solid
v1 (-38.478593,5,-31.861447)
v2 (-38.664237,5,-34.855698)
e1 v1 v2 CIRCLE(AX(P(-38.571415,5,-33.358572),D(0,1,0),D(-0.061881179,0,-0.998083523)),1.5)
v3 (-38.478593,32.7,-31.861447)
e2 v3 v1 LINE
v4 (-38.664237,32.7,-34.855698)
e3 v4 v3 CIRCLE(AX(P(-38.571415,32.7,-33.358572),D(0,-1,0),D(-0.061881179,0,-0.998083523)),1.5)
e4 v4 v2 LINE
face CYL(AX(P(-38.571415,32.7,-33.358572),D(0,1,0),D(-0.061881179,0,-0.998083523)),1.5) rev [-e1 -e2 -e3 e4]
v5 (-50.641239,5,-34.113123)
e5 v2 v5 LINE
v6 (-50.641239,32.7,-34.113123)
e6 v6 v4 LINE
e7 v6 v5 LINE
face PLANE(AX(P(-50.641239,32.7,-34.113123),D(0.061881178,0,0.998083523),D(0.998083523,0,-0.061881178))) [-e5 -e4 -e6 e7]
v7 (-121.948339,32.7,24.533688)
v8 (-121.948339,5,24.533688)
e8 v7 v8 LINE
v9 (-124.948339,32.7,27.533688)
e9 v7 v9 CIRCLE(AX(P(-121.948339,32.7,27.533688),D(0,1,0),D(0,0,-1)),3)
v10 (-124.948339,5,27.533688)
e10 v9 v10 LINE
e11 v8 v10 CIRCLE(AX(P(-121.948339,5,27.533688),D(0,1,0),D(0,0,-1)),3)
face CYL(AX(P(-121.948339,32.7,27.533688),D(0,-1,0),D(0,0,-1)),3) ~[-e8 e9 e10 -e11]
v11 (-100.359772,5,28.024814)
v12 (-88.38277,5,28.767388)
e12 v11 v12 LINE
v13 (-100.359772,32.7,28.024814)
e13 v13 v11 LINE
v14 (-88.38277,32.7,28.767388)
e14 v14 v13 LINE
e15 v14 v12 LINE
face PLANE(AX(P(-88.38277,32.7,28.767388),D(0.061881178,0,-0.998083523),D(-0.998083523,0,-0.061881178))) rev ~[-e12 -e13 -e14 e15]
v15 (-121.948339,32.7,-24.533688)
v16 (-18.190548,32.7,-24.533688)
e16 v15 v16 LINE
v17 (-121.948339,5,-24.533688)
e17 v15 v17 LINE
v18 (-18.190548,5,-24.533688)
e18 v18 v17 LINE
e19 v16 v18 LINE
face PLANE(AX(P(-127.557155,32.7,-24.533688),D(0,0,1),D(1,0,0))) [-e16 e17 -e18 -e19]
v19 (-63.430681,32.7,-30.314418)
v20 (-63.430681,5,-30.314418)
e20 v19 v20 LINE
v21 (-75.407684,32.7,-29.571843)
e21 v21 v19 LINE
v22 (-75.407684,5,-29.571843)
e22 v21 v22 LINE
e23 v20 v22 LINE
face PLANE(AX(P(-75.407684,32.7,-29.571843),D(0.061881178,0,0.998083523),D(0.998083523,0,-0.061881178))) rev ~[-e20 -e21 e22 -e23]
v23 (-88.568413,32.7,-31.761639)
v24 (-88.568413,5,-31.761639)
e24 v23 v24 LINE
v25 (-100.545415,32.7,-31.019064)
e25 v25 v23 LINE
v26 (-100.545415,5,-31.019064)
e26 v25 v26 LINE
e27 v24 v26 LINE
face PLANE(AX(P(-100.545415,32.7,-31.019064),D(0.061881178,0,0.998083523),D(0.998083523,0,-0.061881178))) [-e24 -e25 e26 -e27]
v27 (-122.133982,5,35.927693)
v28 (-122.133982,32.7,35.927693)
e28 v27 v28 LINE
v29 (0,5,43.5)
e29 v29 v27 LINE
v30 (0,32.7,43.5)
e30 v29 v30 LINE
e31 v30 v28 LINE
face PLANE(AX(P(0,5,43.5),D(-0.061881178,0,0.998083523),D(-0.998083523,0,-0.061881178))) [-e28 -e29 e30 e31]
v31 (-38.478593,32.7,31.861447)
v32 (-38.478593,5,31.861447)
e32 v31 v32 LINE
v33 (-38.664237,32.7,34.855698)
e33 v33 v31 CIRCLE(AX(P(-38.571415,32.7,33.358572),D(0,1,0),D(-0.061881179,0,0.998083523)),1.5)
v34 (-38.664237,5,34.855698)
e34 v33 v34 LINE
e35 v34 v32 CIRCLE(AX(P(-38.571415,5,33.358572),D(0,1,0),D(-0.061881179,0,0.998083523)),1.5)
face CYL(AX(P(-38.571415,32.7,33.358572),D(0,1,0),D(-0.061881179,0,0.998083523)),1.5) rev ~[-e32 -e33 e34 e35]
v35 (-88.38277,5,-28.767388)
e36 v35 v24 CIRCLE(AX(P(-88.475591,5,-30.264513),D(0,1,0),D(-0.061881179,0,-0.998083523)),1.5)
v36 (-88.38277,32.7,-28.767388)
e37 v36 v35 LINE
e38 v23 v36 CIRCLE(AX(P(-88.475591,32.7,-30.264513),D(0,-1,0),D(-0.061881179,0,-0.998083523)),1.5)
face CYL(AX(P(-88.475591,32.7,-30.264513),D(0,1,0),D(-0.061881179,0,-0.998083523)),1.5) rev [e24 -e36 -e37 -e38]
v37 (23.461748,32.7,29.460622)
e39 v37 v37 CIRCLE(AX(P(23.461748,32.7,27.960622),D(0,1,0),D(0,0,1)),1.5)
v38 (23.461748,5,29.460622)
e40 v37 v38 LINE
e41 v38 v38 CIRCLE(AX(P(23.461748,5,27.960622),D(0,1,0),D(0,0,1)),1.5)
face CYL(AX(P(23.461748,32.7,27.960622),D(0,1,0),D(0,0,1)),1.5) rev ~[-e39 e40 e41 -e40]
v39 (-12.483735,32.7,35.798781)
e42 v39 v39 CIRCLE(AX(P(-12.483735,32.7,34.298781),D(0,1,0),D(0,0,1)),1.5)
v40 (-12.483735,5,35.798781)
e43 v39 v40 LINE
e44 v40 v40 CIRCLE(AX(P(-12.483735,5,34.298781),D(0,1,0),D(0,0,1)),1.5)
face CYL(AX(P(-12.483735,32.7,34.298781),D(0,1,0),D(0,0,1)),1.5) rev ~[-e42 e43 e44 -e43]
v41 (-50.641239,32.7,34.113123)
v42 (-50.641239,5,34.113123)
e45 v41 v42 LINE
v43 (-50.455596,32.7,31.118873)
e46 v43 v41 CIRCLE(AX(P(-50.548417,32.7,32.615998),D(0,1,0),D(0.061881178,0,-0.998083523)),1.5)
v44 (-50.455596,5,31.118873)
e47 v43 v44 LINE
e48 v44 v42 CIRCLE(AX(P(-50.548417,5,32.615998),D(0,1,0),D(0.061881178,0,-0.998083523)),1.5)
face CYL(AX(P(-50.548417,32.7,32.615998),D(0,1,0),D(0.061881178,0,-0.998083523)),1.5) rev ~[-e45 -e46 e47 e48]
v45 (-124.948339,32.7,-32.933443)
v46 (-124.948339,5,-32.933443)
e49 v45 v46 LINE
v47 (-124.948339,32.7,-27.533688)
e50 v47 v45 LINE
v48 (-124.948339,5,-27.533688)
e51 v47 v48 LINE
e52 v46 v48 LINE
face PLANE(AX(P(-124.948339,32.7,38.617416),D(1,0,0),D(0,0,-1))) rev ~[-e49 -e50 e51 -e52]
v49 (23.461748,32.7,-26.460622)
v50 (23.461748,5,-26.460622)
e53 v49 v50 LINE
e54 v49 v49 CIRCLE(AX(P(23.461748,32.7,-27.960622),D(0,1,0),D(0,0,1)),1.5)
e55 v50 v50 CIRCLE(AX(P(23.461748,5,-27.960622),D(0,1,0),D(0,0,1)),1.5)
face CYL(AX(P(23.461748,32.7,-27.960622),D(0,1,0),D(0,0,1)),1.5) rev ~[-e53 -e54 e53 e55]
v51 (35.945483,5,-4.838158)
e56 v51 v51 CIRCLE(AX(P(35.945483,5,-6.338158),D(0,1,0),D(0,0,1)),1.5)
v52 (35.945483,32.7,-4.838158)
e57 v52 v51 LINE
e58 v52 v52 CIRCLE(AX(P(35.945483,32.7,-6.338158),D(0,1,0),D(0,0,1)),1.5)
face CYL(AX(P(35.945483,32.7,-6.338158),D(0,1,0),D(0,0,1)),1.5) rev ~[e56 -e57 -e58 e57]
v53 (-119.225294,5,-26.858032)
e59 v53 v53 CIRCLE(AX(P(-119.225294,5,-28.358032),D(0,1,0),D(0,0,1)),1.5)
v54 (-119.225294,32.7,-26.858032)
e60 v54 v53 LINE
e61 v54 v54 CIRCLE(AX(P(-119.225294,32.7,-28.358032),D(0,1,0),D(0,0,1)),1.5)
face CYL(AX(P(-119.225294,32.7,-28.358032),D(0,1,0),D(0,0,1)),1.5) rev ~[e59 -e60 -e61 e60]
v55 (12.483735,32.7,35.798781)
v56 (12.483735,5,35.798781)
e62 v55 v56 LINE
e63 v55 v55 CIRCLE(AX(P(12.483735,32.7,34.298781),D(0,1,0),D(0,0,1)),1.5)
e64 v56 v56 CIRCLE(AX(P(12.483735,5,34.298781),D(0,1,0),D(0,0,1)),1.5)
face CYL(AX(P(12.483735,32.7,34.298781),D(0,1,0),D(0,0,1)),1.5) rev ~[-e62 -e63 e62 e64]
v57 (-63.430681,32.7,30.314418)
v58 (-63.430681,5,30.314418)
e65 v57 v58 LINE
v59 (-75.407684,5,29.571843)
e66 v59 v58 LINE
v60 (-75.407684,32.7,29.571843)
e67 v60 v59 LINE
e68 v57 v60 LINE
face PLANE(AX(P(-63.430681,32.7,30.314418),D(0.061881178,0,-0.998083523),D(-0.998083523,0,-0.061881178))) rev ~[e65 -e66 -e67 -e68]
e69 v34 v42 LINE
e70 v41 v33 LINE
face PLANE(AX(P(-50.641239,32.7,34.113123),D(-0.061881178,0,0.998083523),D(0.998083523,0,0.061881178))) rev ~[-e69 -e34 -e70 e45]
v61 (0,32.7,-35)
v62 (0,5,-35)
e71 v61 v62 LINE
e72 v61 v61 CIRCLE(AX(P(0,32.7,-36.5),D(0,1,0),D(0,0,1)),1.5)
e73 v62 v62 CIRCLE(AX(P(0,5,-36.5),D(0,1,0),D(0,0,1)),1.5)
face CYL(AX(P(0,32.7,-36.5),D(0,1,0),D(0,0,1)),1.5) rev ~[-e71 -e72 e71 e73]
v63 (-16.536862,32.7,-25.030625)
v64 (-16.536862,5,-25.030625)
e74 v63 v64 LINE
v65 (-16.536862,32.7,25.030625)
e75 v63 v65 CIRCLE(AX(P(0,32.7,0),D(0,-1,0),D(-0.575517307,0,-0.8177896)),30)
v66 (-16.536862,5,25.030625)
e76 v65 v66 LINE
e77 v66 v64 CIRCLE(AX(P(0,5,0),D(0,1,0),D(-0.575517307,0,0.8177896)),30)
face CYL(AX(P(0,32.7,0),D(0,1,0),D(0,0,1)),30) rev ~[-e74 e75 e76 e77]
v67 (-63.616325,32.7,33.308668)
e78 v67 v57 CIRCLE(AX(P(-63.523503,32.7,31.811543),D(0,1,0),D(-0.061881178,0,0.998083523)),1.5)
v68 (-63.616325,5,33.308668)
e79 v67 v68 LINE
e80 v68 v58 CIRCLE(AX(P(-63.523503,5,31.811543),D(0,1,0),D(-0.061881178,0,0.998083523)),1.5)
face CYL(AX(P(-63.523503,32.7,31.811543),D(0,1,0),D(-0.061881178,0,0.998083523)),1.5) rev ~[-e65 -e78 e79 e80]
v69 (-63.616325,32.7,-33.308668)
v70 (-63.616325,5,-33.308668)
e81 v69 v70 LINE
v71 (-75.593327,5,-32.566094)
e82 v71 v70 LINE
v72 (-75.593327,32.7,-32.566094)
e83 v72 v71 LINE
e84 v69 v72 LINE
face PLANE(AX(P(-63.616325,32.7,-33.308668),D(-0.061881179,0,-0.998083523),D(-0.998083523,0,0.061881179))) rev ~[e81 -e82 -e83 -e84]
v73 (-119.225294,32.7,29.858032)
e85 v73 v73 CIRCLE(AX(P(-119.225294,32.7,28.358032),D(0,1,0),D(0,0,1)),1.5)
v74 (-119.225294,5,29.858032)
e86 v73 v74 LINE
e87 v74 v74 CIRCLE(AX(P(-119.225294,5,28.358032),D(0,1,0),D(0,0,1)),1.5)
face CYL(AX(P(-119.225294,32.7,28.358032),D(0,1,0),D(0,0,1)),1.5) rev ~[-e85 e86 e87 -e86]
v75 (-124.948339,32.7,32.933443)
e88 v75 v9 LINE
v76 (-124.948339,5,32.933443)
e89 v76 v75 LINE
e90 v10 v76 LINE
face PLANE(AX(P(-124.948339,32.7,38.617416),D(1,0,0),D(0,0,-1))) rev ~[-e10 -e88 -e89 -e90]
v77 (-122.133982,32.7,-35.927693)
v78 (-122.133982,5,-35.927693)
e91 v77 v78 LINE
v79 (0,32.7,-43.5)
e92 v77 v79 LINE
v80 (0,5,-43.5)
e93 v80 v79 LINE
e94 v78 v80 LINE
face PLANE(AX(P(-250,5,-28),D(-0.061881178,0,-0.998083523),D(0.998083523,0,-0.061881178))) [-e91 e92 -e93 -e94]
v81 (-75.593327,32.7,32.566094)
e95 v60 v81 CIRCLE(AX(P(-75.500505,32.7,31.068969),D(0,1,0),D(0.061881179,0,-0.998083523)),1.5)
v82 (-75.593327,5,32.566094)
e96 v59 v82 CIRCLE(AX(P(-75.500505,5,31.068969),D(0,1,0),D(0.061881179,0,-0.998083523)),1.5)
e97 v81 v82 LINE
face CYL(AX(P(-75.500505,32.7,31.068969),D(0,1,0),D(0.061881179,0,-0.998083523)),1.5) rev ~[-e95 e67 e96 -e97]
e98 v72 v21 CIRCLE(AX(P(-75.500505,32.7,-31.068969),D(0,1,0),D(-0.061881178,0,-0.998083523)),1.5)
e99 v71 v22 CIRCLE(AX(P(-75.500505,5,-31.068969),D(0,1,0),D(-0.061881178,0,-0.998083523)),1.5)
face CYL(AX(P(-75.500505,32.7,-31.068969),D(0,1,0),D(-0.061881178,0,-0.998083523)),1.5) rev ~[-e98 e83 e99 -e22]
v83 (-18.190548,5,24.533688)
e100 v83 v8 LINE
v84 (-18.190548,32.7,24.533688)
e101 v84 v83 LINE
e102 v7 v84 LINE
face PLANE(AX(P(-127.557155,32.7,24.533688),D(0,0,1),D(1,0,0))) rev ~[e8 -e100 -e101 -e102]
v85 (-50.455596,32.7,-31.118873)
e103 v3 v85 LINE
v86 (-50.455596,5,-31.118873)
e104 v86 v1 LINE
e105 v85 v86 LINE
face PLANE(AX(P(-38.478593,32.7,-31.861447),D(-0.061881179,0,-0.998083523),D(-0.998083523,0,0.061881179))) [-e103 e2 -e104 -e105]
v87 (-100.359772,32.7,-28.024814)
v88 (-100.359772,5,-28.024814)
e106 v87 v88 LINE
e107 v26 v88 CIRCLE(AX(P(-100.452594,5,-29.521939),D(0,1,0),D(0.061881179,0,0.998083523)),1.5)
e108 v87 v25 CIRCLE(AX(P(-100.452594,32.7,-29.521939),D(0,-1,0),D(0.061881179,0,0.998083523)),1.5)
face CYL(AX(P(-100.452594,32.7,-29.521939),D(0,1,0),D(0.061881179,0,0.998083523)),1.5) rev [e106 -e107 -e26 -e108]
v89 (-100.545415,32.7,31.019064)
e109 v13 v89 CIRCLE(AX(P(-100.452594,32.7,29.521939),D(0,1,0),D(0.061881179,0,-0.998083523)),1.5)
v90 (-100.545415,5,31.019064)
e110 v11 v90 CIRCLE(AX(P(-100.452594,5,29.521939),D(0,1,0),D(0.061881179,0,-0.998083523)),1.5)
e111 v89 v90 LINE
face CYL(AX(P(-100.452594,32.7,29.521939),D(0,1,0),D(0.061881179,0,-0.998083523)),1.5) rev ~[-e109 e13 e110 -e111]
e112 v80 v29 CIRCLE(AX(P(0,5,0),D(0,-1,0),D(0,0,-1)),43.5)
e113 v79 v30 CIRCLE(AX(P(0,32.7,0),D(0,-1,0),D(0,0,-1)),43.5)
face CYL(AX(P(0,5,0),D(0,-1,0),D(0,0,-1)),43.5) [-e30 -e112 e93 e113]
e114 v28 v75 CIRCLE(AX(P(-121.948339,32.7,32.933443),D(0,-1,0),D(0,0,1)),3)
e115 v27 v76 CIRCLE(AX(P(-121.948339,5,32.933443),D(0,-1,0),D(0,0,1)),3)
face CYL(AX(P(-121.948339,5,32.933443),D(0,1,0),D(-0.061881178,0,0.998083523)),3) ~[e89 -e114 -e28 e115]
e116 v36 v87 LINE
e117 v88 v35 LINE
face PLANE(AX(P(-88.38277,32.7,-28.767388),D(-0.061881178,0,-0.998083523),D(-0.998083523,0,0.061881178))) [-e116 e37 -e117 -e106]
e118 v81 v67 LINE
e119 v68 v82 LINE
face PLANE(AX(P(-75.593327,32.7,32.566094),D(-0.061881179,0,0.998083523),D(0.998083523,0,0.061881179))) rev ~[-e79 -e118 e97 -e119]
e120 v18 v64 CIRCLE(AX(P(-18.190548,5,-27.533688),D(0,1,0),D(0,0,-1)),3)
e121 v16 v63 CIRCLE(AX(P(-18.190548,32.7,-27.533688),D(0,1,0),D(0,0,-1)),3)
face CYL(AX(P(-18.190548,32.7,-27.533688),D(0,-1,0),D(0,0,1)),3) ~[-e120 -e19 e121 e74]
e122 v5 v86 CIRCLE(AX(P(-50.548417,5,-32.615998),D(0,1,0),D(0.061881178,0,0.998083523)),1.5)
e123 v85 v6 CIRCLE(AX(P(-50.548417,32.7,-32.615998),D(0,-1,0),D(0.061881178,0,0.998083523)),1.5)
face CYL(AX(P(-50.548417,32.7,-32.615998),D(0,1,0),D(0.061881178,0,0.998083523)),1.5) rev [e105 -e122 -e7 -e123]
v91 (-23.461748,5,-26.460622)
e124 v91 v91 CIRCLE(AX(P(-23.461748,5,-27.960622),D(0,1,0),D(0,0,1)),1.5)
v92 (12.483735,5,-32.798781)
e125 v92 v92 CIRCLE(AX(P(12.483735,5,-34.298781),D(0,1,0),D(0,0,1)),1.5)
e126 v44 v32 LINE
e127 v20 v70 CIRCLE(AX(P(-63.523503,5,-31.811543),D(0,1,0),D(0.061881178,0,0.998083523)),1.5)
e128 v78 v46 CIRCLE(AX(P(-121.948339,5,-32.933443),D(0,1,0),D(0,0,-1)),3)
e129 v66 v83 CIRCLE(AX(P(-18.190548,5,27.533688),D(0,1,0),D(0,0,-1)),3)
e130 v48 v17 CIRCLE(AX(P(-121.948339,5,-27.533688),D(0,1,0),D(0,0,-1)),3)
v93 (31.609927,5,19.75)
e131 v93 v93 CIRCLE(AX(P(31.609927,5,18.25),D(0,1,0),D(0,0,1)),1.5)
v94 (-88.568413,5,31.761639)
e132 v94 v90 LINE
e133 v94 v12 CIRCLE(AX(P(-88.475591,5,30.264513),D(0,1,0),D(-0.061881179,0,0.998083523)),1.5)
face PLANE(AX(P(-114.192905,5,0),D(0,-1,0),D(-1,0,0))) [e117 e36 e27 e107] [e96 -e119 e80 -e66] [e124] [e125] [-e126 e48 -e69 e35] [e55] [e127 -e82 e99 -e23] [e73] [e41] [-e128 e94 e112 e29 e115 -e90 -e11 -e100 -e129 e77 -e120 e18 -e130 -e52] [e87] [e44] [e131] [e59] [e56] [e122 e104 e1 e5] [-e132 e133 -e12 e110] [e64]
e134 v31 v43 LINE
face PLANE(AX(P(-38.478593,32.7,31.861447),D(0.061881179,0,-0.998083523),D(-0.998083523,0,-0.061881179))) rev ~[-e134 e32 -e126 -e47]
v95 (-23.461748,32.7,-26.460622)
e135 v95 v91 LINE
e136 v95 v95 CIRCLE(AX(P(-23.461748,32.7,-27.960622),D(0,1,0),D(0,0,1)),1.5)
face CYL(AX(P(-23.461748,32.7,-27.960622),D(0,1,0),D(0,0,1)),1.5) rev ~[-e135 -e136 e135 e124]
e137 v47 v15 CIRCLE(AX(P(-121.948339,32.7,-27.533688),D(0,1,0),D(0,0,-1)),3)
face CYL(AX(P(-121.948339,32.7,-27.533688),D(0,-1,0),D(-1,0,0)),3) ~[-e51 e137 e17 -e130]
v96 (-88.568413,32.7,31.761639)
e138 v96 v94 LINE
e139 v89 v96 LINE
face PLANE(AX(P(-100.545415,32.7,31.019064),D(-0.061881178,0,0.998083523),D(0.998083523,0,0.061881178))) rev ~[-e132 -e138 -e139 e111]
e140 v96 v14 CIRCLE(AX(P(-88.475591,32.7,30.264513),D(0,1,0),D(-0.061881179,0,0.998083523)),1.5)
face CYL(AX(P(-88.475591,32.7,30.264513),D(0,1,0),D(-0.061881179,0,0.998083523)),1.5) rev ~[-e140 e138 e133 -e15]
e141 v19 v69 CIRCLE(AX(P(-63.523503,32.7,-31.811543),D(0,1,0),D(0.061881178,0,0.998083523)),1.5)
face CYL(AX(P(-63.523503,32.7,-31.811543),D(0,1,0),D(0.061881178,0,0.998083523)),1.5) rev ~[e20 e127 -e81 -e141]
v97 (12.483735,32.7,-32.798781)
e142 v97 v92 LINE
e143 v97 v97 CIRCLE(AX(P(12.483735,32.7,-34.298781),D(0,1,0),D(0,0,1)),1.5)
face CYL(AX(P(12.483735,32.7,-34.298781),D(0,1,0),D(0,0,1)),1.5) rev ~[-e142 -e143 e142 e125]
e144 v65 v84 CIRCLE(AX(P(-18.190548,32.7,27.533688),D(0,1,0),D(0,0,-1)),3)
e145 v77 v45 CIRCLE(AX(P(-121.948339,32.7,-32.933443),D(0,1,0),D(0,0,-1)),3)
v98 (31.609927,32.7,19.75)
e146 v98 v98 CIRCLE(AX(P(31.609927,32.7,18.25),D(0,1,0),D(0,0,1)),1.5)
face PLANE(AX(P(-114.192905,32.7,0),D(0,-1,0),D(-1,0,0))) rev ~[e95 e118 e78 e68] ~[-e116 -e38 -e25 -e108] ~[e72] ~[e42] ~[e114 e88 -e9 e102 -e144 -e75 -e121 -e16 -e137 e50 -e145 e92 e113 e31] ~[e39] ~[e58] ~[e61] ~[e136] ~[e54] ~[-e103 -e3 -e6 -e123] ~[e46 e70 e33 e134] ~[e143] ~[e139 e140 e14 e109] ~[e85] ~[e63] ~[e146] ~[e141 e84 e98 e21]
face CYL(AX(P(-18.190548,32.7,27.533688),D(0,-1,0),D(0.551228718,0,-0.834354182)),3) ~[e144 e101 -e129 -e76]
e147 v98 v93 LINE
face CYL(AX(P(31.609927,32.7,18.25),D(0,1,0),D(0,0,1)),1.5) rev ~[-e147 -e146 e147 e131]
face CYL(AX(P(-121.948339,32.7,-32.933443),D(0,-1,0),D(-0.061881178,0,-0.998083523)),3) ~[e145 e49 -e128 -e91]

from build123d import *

# Parameters (mm, degrees)
EXTRUDE_1_DEPTH     = 27.7
SKETCH_3_R          = 1.25
SKETCH_3_R_2        = 30
SKETCH_3_R_3        = 1.5
CUT_EXTRUDE_1_DEPTH = 30
CUT_EXTRUDE_2_DEPTH = 3
SKETCH_5_R          = 1.25
SKETCH_5_R_2        = 1.5
CUT_EXTRUDE_3_DEPTH = 30
SKETCH_6_W          = 156.727051789
SKETCH_6_H          = 77.251269398
CUT_EXTRUDE_4_DEPTH = 36
SKETCH_7_W          = 110.29163623
SKETCH_7_H          = 49.067375992
CUT_EXTRUDE_5_DEPTH = 36
FILLET_1_R          = 3
CUT_EXTRUDE_6_DEPTH = 40
FILLET_2_R          = 3


with BuildPart() as part:
    # 草图2 → 凸台-拉伸1 (new body)
    with BuildSketch(Plane(origin=(0, 5, 0), x_dir=(1, 0, 0), z_dir=(0, 1, 0))):
        with BuildLine():
            Line((-250, 28), (0, 43.5))
            ThreePointArc((0, 43.5), (43.5, 0), (0, -43.5))
            Line((0, -43.5), (-250, -28))
            ThreePointArc((-250, -28), (-278, 0), (-250, 28))
        make_face()
    extrude(amount=EXTRUDE_1_DEPTH)

    # 草图3 → 切除-拉伸1 (cut)
    with BuildSketch(Plane(origin=(0, 32.7, 0), x_dir=(1, 0, 0), z_dir=(0, 1, 0))):
        with Locations(Location((-250, 4, 0), (0, 0, 270))):
            Circle(SKETCH_3_R)
        with Locations(Location((-246, 0, 0), (0, 0, 270))):
            Circle(SKETCH_3_R)
        with Locations(Location((-250, -4, 0), (0, 0, 270))):
            Circle(SKETCH_3_R)
        with Locations(Location((-254, 0, 0), (0, 0, 270))):
            Circle(SKETCH_3_R)
        with Locations(Location((0, 0, 0), (0, 0, 270))):
            Circle(SKETCH_3_R_2)
        with Locations(Location((0, 36.5, 0), (0, 0, 270))):
            Circle(SKETCH_3_R_3)
        with Locations(Location((12.483735231, 34.298780659, 0), (0, 0, 270))):
            Circle(SKETCH_3_R_3)
        with Locations(Location((23.461747754, 27.960622174, 0), (0, 0, 270))):
            Circle(SKETCH_3_R_3)
        with Locations(Location((-23.461747754, 27.960622174, 0), (0, 0, 270))):
            Circle(SKETCH_3_R_3)
        with Locations(Location((-35.945482985, 6.338158485, 0), (0, 0, 270))):
            Circle(SKETCH_3_R_3)
        with Locations(Location((-35.945482985, -6.338158485, 0), (0, 0, 270))):
            Circle(SKETCH_3_R_3)
        with Locations(Location((-31.609927238, -18.25, 0), (0, 0, 270))):
            Circle(SKETCH_3_R_3)
        with Locations(Location((-12.483735231, -34.298780659, 0), (0, 0, 270))):
            Circle(SKETCH_3_R_3)
        with Locations(Location((12.483735231, -34.298780659, 0), (0, 0, 270))):
            Circle(SKETCH_3_R_3)
        with Locations(Location((23.461747754, -27.960622174, 0), (0, 0, 270))):
            Circle(SKETCH_3_R_3)
        with Locations(Location((31.609927238, -18.25, 0), (0, 0, 270))):
            Circle(SKETCH_3_R_3)
        with Locations(Location((35.945482985, 6.338158485, 0), (0, 0, 270))):
            Circle(SKETCH_3_R_3)
        with BuildLine():
            ThreePointArc((-265.553651429, 15.553651429), (-265.553651429, 11.316406256), (-261.316406256, 11.316406256))
            ThreePointArc((-261.316406256, 11.316406256), (-250, 16.003815204), (-238.683593744, 11.316406256))
            ThreePointArc((-238.683593744, 11.316406256), (-234.446348571, 11.316406256), (-234.446348571, 15.553651429))
            ThreePointArc((-234.446348571, 15.553651429), (-250, 21.996184796), (-265.553651429, 15.553651429))
        make_face()
        with BuildLine():
            ThreePointArc((-261.316406256, -11.316406256), (-250, -16.003815204), (-238.683593744, -11.316406256))
            ThreePointArc((-238.683593744, -11.316406256), (-234.446348571, -11.316406256), (-234.446348571, -15.553651429))
            ThreePointArc((-234.446348571, -15.553651429), (-250, -21.996184796), (-265.553651429, -15.553651429))
            ThreePointArc((-265.553651429, -15.553651429), (-265.553651429, -11.316406256), (-261.316406256, -11.316406256))
        make_face()
    extrude(amount=-CUT_EXTRUDE_1_DEPTH, mode=Mode.SUBTRACT)

    # 草图4 → 切除-拉伸2 (cut)
    with BuildSketch(Plane(origin=(0, 32.7, 0), x_dir=(1, 0, 0), z_dir=(0, 1, 0))):
        with BuildLine():
            Line((-216.23889617, 1.5), (-205.267472927, 20.503062488))
            ThreePointArc((-205.267472927, 20.503062488), (-199.762485666, 21.978119379), (-198.287428775, 16.473132117))
            Line((-198.287428775, 16.473132117), (-206.932170633, 1.5))
            ThreePointArc((-206.932170633, 1.5), (-207.334094422, 0), (-206.932170633, -1.5))
            Line((-206.932170633, -1.5), (-198.287428775, -16.473132117))
            ThreePointArc((-198.287428775, -16.473132117), (-199.762485666, -21.978119379), (-205.267472927, -20.503062488))
            Line((-205.267472927, -20.503062488), (-216.23889617, -1.5))
            ThreePointArc((-216.23889617, -1.5), (-216.640819958, 0), (-216.23889617, 1.5))
        make_face()
        with BuildLine():
            Line((-54.444025551, 1.5), (-65.7023558, 21))
            ThreePointArc((-65.7023558, 21), (-66.800432012, 22.098076211), (-68.300432012, 22.5))
            Line((-68.300432012, 22.5), (-90.81709251, 22.5))
            ThreePointArc((-90.81709251, 22.5), (-92.31709251, 22.098076211), (-93.415168722, 21))
            Line((-93.415168722, 21), (-104.673498971, 1.5))
            ThreePointArc((-104.673498971, 1.5), (-105.075422759, 0), (-104.673498971, -1.5))
            Line((-104.673498971, -1.5), (-93.415168722, -21))
            ThreePointArc((-93.415168722, -21), (-92.31709251, -22.098076211), (-90.81709251, -22.5))
            Line((-90.81709251, -22.5), (-68.300432012, -22.5))
            ThreePointArc((-68.300432012, -22.5), (-66.800432012, -22.098076211), (-65.7023558, -21))
            Line((-65.7023558, -21), (-54.444025551, -1.5))
            ThreePointArc((-54.444025551, -1.5), (-54.042101763, 0), (-54.444025551, 1.5))
        make_face()
        with BuildLine():
            Line((-188.932170633, -1.5), (-180.287428775, -16.473132117))
            ThreePointArc((-180.287428775, -16.473132117), (-181.762485666, -21.978119379), (-187.267472927, -20.503062488))
            Line((-187.267472927, -20.503062488), (-198.23889617, -1.5))
            ThreePointArc((-198.23889617, -1.5), (-198.640819958, 0), (-198.23889617, 1.5))
            Line((-198.23889617, 1.5), (-187.267472927, 20.503062488))
            ThreePointArc((-187.267472927, 20.503062488), (-181.762485666, 21.978119379), (-180.287428775, 16.473132117))
            Line((-180.287428775, 16.473132117), (-188.932170633, 1.5))
            ThreePointArc((-188.932170633, 1.5), (-189.334094422, 0), (-188.932170633, -1.5))
        make_face()
        with BuildLine():
            Line((-170.932170633, -1.5), (-162.287428775, -16.473132117))
            ThreePointArc((-162.287428775, -16.473132117), (-163.762485666, -21.978119379), (-169.267472927, -20.503062488))
            Line((-169.267472927, -20.503062488), (-180.23889617, -1.5))
            ThreePointArc((-180.23889617, -1.5), (-180.640819958, 0), (-180.23889617, 1.5))
            Line((-180.23889617, 1.5), (-169.267472927, 20.503062488))
            ThreePointArc((-169.267472927, 20.503062488), (-163.762485666, 21.978119379), (-162.287428775, 16.473132117))
            Line((-162.287428775, 16.473132117), (-170.932170633, 1.5))
            ThreePointArc((-170.932170633, 1.5), (-171.334094422, 0), (-170.932170633, -1.5))
        make_face()
        with BuildLine():
            Line((-152.932170633, -1.5), (-144.287428775, -16.473132117))
            ThreePointArc((-144.287428775, -16.473132117), (-145.762485666, -21.978119379), (-151.267472927, -20.503062488))
            Line((-151.267472927, -20.503062488), (-162.23889617, -1.5))
            ThreePointArc((-162.23889617, -1.5), (-162.640819958, 0), (-162.23889617, 1.5))
            Line((-162.23889617, 1.5), (-151.267472927, 20.503062488))
            ThreePointArc((-151.267472927, 20.503062488), (-145.762485666, 21.978119379), (-144.287428775, 16.473132117))
            Line((-144.287428775, 16.473132117), (-152.932170633, 1.5))
            ThreePointArc((-152.932170633, 1.5), (-153.334094422, 0), (-152.932170633, -1.5))
        make_face()
        with BuildLine():
            Line((-134.932170633, -1.5), (-126.287428775, -16.473132117))
            ThreePointArc((-126.287428775, -16.473132117), (-127.762485666, -21.978119379), (-133.267472927, -20.503062488))
            Line((-133.267472927, -20.503062488), (-144.23889617, -1.5))
            ThreePointArc((-144.23889617, -1.5), (-144.640819958, 0), (-144.23889617, 1.5))
            Line((-144.23889617, 1.5), (-133.267472927, 20.503062488))
            ThreePointArc((-133.267472927, 20.503062488), (-127.762485666, 21.978119379), (-126.287428775, 16.473132117))
            Line((-126.287428775, 16.473132117), (-134.932170633, 1.5))
            ThreePointArc((-134.932170633, 1.5), (-135.334094422, 0), (-134.932170633, -1.5))
        make_face()
        with BuildLine():
            Line((-116.932170633, -1.5), (-108.287428775, -16.473132117))
            ThreePointArc((-108.287428775, -16.473132117), (-109.762485666, -21.978119379), (-115.267472927, -20.503062488))
            Line((-115.267472927, -20.503062488), (-126.23889617, -1.5))
            ThreePointArc((-126.23889617, -1.5), (-126.640819958, 0), (-126.23889617, 1.5))
            Line((-126.23889617, 1.5), (-115.267472927, 20.503062488))
            ThreePointArc((-115.267472927, 20.503062488), (-109.762485666, 21.978119379), (-108.287428775, 16.473132117))
            Line((-108.287428775, 16.473132117), (-116.932170633, 1.5))
            ThreePointArc((-116.932170633, 1.5), (-117.334094422, 0), (-116.932170633, -1.5))
        make_face()
    extrude(amount=-CUT_EXTRUDE_2_DEPTH, mode=Mode.SUBTRACT)

    # 草图5 → 切除-拉伸3 (cut)
    with BuildSketch(Plane(origin=(0, 32.7, 0), x_dir=(1, 0, 0), z_dir=(0, 1, 0))):
        with Locations(Location((-44.941689831, 32.96361523, 0), (0, 0, 270))):
            Circle(SKETCH_5_R)
        with Locations(Location((-69.702891128, 31.42842075, 0), (0, 0, 270))):
            Circle(SKETCH_5_R)
        with Locations(Location((-119.225293723, 28.358031789, 0), (0, 0, 270))):
            Circle(SKETCH_5_R_2)
        with Locations(Location((-94.464092426, 29.89322627, 0), (0, 0, 270))):
            Circle(SKETCH_5_R)
        with Locations(Location((-44.941689831, -32.96361523, 0), (0, 0, 270))):
            Circle(SKETCH_5_R)
        with Locations(Location((-69.702891128, -31.42842075, 0), (0, 0, 270))):
            Circle(SKETCH_5_R)
        with Locations(Location((-94.464092426, -29.89322627, 0), (0, 0, 270))):
            Circle(SKETCH_5_R)
        with Locations(Location((-119.225293723, -28.358031789, 0), (0, 0, 270))):
            Circle(SKETCH_5_R_2)
    extrude(amount=-CUT_EXTRUDE_3_DEPTH, mode=Mode.SUBTRACT)

    # 草图6 → 切除-拉伸4 (cut)
    with BuildSketch(Plane(origin=(0, 32.7, 0), x_dir=(1, 0, 0), z_dir=(0, 1, 0))):
        with Locations((-203.311864761, 0.008219016)):
            Rectangle(SKETCH_6_W, SKETCH_6_H)
    extrude(amount=-CUT_EXTRUDE_4_DEPTH, mode=Mode.SUBTRACT)

    # 草图7 → 切除-拉伸5 (cut)
    with BuildSketch(Plane(origin=(0, 32.7, 0), x_dir=(1, 0, 0), z_dir=(0, 1, 0))):
        with Locations((-72.411337318, 0)):
            Rectangle(SKETCH_7_W, SKETCH_7_H)
    extrude(amount=-CUT_EXTRUDE_5_DEPTH, mode=Mode.SUBTRACT)

    # 圆角1
    fillet_1_edges = [part.edges().sort_by_distance(p)[0] for p in [
        (-124.948338866, 18.85, -35.75320299),
    ]]
    fillet(fillet_1_edges, radius=FILLET_1_R)

    # 草图8 → 切除-拉伸6 (cut)
    with BuildSketch(Plane(origin=(0, 32.7, 0), x_dir=(1, 0, 0), z_dir=(0, 1, 0))):
        with BuildLine():
            Line((-100.545415334, 31.019064484), (-88.568413053, 31.761638625))
            ThreePointArc((-88.568413053, 31.761638625), (-86.978466, 30.357335108), (-88.382769518, 28.767388055))
            Line((-88.382769518, 28.767388055), (-100.359771799, 28.024813914))
            ThreePointArc((-100.359771799, 28.024813914), (-101.949718852, 29.429117431), (-100.545415334, 31.019064484))
        make_face()
        with BuildLine():
            Line((-75.407683713, 29.571843375), (-63.430681432, 30.314417516))
            ThreePointArc((-63.430681432, 30.314417516), (-62.026377914, 31.904364569), (-63.616324967, 33.308668087))
            Line((-63.616324967, 33.308668087), (-75.593327248, 32.566093945))
            ThreePointArc((-75.593327248, 32.566093945), (-76.997630766, 30.976146893), (-75.407683713, 29.571843375))
        make_face()
        with BuildLine():
            Line((-50.641239162, 34.113123407), (-38.664236881, 34.855697548))
            ThreePointArc((-38.664236881, 34.855697548), (-37.074289828, 33.451394031), (-38.478593346, 31.861446978))
            Line((-38.478593346, 31.861446978), (-50.455595627, 31.118872836))
            ThreePointArc((-50.455595627, 31.118872836), (-52.04554268, 32.523176354), (-50.641239162, 34.113123407))
        make_face()
        with BuildLine():
            Line((-50.641239162, -34.113123407), (-38.664236881, -34.855697548))
            ThreePointArc((-38.664236881, -34.855697548), (-37.074289828, -33.451394031), (-38.478593346, -31.861446978))
            Line((-38.478593346, -31.861446978), (-50.455595627, -31.118872836))
            ThreePointArc((-50.455595627, -31.118872836), (-52.04554268, -32.523176354), (-50.641239162, -34.113123407))
        make_face()
        with BuildLine():
            Line((-75.593327248, -32.566093945), (-63.616324967, -33.308668087))
            ThreePointArc((-63.616324967, -33.308668087), (-62.026377914, -31.904364569), (-63.430681432, -30.314417516))
            Line((-63.430681432, -30.314417516), (-75.407683713, -29.571843375))
            ThreePointArc((-75.407683713, -29.571843375), (-76.997630766, -30.976146893), (-75.593327248, -32.566093945))
        make_face()
        with BuildLine():
            Line((-100.545415334, -31.019064484), (-88.568413053, -31.761638625))
            ThreePointArc((-88.568413053, -31.761638625), (-86.978466, -30.357335108), (-88.382769518, -28.767388055))
            Line((-88.382769518, -28.767388055), (-100.359771799, -28.024813914))
            ThreePointArc((-100.359771799, -28.024813914), (-101.949718852, -29.429117431), (-100.545415334, -31.019064484))
        make_face()
    extrude(amount=-CUT_EXTRUDE_6_DEPTH, mode=Mode.SUBTRACT)

    # 圆角2
    fillet_2_edges = [part.edges().sort_by_distance(p)[0] for p in [
        (-124.948338866, 18.85, 35.75320299),
        (-124.948338866, 18.85, -24.533687996),
        (-124.948338866, 18.85, 24.533687996),
        (-17.265519203, 18.85, 24.533687996),
        (-17.265519203, 18.85, -24.533687996),
    ]]
    fillet(fillet_2_edges, radius=FILLET_2_R)


solid = part.part
